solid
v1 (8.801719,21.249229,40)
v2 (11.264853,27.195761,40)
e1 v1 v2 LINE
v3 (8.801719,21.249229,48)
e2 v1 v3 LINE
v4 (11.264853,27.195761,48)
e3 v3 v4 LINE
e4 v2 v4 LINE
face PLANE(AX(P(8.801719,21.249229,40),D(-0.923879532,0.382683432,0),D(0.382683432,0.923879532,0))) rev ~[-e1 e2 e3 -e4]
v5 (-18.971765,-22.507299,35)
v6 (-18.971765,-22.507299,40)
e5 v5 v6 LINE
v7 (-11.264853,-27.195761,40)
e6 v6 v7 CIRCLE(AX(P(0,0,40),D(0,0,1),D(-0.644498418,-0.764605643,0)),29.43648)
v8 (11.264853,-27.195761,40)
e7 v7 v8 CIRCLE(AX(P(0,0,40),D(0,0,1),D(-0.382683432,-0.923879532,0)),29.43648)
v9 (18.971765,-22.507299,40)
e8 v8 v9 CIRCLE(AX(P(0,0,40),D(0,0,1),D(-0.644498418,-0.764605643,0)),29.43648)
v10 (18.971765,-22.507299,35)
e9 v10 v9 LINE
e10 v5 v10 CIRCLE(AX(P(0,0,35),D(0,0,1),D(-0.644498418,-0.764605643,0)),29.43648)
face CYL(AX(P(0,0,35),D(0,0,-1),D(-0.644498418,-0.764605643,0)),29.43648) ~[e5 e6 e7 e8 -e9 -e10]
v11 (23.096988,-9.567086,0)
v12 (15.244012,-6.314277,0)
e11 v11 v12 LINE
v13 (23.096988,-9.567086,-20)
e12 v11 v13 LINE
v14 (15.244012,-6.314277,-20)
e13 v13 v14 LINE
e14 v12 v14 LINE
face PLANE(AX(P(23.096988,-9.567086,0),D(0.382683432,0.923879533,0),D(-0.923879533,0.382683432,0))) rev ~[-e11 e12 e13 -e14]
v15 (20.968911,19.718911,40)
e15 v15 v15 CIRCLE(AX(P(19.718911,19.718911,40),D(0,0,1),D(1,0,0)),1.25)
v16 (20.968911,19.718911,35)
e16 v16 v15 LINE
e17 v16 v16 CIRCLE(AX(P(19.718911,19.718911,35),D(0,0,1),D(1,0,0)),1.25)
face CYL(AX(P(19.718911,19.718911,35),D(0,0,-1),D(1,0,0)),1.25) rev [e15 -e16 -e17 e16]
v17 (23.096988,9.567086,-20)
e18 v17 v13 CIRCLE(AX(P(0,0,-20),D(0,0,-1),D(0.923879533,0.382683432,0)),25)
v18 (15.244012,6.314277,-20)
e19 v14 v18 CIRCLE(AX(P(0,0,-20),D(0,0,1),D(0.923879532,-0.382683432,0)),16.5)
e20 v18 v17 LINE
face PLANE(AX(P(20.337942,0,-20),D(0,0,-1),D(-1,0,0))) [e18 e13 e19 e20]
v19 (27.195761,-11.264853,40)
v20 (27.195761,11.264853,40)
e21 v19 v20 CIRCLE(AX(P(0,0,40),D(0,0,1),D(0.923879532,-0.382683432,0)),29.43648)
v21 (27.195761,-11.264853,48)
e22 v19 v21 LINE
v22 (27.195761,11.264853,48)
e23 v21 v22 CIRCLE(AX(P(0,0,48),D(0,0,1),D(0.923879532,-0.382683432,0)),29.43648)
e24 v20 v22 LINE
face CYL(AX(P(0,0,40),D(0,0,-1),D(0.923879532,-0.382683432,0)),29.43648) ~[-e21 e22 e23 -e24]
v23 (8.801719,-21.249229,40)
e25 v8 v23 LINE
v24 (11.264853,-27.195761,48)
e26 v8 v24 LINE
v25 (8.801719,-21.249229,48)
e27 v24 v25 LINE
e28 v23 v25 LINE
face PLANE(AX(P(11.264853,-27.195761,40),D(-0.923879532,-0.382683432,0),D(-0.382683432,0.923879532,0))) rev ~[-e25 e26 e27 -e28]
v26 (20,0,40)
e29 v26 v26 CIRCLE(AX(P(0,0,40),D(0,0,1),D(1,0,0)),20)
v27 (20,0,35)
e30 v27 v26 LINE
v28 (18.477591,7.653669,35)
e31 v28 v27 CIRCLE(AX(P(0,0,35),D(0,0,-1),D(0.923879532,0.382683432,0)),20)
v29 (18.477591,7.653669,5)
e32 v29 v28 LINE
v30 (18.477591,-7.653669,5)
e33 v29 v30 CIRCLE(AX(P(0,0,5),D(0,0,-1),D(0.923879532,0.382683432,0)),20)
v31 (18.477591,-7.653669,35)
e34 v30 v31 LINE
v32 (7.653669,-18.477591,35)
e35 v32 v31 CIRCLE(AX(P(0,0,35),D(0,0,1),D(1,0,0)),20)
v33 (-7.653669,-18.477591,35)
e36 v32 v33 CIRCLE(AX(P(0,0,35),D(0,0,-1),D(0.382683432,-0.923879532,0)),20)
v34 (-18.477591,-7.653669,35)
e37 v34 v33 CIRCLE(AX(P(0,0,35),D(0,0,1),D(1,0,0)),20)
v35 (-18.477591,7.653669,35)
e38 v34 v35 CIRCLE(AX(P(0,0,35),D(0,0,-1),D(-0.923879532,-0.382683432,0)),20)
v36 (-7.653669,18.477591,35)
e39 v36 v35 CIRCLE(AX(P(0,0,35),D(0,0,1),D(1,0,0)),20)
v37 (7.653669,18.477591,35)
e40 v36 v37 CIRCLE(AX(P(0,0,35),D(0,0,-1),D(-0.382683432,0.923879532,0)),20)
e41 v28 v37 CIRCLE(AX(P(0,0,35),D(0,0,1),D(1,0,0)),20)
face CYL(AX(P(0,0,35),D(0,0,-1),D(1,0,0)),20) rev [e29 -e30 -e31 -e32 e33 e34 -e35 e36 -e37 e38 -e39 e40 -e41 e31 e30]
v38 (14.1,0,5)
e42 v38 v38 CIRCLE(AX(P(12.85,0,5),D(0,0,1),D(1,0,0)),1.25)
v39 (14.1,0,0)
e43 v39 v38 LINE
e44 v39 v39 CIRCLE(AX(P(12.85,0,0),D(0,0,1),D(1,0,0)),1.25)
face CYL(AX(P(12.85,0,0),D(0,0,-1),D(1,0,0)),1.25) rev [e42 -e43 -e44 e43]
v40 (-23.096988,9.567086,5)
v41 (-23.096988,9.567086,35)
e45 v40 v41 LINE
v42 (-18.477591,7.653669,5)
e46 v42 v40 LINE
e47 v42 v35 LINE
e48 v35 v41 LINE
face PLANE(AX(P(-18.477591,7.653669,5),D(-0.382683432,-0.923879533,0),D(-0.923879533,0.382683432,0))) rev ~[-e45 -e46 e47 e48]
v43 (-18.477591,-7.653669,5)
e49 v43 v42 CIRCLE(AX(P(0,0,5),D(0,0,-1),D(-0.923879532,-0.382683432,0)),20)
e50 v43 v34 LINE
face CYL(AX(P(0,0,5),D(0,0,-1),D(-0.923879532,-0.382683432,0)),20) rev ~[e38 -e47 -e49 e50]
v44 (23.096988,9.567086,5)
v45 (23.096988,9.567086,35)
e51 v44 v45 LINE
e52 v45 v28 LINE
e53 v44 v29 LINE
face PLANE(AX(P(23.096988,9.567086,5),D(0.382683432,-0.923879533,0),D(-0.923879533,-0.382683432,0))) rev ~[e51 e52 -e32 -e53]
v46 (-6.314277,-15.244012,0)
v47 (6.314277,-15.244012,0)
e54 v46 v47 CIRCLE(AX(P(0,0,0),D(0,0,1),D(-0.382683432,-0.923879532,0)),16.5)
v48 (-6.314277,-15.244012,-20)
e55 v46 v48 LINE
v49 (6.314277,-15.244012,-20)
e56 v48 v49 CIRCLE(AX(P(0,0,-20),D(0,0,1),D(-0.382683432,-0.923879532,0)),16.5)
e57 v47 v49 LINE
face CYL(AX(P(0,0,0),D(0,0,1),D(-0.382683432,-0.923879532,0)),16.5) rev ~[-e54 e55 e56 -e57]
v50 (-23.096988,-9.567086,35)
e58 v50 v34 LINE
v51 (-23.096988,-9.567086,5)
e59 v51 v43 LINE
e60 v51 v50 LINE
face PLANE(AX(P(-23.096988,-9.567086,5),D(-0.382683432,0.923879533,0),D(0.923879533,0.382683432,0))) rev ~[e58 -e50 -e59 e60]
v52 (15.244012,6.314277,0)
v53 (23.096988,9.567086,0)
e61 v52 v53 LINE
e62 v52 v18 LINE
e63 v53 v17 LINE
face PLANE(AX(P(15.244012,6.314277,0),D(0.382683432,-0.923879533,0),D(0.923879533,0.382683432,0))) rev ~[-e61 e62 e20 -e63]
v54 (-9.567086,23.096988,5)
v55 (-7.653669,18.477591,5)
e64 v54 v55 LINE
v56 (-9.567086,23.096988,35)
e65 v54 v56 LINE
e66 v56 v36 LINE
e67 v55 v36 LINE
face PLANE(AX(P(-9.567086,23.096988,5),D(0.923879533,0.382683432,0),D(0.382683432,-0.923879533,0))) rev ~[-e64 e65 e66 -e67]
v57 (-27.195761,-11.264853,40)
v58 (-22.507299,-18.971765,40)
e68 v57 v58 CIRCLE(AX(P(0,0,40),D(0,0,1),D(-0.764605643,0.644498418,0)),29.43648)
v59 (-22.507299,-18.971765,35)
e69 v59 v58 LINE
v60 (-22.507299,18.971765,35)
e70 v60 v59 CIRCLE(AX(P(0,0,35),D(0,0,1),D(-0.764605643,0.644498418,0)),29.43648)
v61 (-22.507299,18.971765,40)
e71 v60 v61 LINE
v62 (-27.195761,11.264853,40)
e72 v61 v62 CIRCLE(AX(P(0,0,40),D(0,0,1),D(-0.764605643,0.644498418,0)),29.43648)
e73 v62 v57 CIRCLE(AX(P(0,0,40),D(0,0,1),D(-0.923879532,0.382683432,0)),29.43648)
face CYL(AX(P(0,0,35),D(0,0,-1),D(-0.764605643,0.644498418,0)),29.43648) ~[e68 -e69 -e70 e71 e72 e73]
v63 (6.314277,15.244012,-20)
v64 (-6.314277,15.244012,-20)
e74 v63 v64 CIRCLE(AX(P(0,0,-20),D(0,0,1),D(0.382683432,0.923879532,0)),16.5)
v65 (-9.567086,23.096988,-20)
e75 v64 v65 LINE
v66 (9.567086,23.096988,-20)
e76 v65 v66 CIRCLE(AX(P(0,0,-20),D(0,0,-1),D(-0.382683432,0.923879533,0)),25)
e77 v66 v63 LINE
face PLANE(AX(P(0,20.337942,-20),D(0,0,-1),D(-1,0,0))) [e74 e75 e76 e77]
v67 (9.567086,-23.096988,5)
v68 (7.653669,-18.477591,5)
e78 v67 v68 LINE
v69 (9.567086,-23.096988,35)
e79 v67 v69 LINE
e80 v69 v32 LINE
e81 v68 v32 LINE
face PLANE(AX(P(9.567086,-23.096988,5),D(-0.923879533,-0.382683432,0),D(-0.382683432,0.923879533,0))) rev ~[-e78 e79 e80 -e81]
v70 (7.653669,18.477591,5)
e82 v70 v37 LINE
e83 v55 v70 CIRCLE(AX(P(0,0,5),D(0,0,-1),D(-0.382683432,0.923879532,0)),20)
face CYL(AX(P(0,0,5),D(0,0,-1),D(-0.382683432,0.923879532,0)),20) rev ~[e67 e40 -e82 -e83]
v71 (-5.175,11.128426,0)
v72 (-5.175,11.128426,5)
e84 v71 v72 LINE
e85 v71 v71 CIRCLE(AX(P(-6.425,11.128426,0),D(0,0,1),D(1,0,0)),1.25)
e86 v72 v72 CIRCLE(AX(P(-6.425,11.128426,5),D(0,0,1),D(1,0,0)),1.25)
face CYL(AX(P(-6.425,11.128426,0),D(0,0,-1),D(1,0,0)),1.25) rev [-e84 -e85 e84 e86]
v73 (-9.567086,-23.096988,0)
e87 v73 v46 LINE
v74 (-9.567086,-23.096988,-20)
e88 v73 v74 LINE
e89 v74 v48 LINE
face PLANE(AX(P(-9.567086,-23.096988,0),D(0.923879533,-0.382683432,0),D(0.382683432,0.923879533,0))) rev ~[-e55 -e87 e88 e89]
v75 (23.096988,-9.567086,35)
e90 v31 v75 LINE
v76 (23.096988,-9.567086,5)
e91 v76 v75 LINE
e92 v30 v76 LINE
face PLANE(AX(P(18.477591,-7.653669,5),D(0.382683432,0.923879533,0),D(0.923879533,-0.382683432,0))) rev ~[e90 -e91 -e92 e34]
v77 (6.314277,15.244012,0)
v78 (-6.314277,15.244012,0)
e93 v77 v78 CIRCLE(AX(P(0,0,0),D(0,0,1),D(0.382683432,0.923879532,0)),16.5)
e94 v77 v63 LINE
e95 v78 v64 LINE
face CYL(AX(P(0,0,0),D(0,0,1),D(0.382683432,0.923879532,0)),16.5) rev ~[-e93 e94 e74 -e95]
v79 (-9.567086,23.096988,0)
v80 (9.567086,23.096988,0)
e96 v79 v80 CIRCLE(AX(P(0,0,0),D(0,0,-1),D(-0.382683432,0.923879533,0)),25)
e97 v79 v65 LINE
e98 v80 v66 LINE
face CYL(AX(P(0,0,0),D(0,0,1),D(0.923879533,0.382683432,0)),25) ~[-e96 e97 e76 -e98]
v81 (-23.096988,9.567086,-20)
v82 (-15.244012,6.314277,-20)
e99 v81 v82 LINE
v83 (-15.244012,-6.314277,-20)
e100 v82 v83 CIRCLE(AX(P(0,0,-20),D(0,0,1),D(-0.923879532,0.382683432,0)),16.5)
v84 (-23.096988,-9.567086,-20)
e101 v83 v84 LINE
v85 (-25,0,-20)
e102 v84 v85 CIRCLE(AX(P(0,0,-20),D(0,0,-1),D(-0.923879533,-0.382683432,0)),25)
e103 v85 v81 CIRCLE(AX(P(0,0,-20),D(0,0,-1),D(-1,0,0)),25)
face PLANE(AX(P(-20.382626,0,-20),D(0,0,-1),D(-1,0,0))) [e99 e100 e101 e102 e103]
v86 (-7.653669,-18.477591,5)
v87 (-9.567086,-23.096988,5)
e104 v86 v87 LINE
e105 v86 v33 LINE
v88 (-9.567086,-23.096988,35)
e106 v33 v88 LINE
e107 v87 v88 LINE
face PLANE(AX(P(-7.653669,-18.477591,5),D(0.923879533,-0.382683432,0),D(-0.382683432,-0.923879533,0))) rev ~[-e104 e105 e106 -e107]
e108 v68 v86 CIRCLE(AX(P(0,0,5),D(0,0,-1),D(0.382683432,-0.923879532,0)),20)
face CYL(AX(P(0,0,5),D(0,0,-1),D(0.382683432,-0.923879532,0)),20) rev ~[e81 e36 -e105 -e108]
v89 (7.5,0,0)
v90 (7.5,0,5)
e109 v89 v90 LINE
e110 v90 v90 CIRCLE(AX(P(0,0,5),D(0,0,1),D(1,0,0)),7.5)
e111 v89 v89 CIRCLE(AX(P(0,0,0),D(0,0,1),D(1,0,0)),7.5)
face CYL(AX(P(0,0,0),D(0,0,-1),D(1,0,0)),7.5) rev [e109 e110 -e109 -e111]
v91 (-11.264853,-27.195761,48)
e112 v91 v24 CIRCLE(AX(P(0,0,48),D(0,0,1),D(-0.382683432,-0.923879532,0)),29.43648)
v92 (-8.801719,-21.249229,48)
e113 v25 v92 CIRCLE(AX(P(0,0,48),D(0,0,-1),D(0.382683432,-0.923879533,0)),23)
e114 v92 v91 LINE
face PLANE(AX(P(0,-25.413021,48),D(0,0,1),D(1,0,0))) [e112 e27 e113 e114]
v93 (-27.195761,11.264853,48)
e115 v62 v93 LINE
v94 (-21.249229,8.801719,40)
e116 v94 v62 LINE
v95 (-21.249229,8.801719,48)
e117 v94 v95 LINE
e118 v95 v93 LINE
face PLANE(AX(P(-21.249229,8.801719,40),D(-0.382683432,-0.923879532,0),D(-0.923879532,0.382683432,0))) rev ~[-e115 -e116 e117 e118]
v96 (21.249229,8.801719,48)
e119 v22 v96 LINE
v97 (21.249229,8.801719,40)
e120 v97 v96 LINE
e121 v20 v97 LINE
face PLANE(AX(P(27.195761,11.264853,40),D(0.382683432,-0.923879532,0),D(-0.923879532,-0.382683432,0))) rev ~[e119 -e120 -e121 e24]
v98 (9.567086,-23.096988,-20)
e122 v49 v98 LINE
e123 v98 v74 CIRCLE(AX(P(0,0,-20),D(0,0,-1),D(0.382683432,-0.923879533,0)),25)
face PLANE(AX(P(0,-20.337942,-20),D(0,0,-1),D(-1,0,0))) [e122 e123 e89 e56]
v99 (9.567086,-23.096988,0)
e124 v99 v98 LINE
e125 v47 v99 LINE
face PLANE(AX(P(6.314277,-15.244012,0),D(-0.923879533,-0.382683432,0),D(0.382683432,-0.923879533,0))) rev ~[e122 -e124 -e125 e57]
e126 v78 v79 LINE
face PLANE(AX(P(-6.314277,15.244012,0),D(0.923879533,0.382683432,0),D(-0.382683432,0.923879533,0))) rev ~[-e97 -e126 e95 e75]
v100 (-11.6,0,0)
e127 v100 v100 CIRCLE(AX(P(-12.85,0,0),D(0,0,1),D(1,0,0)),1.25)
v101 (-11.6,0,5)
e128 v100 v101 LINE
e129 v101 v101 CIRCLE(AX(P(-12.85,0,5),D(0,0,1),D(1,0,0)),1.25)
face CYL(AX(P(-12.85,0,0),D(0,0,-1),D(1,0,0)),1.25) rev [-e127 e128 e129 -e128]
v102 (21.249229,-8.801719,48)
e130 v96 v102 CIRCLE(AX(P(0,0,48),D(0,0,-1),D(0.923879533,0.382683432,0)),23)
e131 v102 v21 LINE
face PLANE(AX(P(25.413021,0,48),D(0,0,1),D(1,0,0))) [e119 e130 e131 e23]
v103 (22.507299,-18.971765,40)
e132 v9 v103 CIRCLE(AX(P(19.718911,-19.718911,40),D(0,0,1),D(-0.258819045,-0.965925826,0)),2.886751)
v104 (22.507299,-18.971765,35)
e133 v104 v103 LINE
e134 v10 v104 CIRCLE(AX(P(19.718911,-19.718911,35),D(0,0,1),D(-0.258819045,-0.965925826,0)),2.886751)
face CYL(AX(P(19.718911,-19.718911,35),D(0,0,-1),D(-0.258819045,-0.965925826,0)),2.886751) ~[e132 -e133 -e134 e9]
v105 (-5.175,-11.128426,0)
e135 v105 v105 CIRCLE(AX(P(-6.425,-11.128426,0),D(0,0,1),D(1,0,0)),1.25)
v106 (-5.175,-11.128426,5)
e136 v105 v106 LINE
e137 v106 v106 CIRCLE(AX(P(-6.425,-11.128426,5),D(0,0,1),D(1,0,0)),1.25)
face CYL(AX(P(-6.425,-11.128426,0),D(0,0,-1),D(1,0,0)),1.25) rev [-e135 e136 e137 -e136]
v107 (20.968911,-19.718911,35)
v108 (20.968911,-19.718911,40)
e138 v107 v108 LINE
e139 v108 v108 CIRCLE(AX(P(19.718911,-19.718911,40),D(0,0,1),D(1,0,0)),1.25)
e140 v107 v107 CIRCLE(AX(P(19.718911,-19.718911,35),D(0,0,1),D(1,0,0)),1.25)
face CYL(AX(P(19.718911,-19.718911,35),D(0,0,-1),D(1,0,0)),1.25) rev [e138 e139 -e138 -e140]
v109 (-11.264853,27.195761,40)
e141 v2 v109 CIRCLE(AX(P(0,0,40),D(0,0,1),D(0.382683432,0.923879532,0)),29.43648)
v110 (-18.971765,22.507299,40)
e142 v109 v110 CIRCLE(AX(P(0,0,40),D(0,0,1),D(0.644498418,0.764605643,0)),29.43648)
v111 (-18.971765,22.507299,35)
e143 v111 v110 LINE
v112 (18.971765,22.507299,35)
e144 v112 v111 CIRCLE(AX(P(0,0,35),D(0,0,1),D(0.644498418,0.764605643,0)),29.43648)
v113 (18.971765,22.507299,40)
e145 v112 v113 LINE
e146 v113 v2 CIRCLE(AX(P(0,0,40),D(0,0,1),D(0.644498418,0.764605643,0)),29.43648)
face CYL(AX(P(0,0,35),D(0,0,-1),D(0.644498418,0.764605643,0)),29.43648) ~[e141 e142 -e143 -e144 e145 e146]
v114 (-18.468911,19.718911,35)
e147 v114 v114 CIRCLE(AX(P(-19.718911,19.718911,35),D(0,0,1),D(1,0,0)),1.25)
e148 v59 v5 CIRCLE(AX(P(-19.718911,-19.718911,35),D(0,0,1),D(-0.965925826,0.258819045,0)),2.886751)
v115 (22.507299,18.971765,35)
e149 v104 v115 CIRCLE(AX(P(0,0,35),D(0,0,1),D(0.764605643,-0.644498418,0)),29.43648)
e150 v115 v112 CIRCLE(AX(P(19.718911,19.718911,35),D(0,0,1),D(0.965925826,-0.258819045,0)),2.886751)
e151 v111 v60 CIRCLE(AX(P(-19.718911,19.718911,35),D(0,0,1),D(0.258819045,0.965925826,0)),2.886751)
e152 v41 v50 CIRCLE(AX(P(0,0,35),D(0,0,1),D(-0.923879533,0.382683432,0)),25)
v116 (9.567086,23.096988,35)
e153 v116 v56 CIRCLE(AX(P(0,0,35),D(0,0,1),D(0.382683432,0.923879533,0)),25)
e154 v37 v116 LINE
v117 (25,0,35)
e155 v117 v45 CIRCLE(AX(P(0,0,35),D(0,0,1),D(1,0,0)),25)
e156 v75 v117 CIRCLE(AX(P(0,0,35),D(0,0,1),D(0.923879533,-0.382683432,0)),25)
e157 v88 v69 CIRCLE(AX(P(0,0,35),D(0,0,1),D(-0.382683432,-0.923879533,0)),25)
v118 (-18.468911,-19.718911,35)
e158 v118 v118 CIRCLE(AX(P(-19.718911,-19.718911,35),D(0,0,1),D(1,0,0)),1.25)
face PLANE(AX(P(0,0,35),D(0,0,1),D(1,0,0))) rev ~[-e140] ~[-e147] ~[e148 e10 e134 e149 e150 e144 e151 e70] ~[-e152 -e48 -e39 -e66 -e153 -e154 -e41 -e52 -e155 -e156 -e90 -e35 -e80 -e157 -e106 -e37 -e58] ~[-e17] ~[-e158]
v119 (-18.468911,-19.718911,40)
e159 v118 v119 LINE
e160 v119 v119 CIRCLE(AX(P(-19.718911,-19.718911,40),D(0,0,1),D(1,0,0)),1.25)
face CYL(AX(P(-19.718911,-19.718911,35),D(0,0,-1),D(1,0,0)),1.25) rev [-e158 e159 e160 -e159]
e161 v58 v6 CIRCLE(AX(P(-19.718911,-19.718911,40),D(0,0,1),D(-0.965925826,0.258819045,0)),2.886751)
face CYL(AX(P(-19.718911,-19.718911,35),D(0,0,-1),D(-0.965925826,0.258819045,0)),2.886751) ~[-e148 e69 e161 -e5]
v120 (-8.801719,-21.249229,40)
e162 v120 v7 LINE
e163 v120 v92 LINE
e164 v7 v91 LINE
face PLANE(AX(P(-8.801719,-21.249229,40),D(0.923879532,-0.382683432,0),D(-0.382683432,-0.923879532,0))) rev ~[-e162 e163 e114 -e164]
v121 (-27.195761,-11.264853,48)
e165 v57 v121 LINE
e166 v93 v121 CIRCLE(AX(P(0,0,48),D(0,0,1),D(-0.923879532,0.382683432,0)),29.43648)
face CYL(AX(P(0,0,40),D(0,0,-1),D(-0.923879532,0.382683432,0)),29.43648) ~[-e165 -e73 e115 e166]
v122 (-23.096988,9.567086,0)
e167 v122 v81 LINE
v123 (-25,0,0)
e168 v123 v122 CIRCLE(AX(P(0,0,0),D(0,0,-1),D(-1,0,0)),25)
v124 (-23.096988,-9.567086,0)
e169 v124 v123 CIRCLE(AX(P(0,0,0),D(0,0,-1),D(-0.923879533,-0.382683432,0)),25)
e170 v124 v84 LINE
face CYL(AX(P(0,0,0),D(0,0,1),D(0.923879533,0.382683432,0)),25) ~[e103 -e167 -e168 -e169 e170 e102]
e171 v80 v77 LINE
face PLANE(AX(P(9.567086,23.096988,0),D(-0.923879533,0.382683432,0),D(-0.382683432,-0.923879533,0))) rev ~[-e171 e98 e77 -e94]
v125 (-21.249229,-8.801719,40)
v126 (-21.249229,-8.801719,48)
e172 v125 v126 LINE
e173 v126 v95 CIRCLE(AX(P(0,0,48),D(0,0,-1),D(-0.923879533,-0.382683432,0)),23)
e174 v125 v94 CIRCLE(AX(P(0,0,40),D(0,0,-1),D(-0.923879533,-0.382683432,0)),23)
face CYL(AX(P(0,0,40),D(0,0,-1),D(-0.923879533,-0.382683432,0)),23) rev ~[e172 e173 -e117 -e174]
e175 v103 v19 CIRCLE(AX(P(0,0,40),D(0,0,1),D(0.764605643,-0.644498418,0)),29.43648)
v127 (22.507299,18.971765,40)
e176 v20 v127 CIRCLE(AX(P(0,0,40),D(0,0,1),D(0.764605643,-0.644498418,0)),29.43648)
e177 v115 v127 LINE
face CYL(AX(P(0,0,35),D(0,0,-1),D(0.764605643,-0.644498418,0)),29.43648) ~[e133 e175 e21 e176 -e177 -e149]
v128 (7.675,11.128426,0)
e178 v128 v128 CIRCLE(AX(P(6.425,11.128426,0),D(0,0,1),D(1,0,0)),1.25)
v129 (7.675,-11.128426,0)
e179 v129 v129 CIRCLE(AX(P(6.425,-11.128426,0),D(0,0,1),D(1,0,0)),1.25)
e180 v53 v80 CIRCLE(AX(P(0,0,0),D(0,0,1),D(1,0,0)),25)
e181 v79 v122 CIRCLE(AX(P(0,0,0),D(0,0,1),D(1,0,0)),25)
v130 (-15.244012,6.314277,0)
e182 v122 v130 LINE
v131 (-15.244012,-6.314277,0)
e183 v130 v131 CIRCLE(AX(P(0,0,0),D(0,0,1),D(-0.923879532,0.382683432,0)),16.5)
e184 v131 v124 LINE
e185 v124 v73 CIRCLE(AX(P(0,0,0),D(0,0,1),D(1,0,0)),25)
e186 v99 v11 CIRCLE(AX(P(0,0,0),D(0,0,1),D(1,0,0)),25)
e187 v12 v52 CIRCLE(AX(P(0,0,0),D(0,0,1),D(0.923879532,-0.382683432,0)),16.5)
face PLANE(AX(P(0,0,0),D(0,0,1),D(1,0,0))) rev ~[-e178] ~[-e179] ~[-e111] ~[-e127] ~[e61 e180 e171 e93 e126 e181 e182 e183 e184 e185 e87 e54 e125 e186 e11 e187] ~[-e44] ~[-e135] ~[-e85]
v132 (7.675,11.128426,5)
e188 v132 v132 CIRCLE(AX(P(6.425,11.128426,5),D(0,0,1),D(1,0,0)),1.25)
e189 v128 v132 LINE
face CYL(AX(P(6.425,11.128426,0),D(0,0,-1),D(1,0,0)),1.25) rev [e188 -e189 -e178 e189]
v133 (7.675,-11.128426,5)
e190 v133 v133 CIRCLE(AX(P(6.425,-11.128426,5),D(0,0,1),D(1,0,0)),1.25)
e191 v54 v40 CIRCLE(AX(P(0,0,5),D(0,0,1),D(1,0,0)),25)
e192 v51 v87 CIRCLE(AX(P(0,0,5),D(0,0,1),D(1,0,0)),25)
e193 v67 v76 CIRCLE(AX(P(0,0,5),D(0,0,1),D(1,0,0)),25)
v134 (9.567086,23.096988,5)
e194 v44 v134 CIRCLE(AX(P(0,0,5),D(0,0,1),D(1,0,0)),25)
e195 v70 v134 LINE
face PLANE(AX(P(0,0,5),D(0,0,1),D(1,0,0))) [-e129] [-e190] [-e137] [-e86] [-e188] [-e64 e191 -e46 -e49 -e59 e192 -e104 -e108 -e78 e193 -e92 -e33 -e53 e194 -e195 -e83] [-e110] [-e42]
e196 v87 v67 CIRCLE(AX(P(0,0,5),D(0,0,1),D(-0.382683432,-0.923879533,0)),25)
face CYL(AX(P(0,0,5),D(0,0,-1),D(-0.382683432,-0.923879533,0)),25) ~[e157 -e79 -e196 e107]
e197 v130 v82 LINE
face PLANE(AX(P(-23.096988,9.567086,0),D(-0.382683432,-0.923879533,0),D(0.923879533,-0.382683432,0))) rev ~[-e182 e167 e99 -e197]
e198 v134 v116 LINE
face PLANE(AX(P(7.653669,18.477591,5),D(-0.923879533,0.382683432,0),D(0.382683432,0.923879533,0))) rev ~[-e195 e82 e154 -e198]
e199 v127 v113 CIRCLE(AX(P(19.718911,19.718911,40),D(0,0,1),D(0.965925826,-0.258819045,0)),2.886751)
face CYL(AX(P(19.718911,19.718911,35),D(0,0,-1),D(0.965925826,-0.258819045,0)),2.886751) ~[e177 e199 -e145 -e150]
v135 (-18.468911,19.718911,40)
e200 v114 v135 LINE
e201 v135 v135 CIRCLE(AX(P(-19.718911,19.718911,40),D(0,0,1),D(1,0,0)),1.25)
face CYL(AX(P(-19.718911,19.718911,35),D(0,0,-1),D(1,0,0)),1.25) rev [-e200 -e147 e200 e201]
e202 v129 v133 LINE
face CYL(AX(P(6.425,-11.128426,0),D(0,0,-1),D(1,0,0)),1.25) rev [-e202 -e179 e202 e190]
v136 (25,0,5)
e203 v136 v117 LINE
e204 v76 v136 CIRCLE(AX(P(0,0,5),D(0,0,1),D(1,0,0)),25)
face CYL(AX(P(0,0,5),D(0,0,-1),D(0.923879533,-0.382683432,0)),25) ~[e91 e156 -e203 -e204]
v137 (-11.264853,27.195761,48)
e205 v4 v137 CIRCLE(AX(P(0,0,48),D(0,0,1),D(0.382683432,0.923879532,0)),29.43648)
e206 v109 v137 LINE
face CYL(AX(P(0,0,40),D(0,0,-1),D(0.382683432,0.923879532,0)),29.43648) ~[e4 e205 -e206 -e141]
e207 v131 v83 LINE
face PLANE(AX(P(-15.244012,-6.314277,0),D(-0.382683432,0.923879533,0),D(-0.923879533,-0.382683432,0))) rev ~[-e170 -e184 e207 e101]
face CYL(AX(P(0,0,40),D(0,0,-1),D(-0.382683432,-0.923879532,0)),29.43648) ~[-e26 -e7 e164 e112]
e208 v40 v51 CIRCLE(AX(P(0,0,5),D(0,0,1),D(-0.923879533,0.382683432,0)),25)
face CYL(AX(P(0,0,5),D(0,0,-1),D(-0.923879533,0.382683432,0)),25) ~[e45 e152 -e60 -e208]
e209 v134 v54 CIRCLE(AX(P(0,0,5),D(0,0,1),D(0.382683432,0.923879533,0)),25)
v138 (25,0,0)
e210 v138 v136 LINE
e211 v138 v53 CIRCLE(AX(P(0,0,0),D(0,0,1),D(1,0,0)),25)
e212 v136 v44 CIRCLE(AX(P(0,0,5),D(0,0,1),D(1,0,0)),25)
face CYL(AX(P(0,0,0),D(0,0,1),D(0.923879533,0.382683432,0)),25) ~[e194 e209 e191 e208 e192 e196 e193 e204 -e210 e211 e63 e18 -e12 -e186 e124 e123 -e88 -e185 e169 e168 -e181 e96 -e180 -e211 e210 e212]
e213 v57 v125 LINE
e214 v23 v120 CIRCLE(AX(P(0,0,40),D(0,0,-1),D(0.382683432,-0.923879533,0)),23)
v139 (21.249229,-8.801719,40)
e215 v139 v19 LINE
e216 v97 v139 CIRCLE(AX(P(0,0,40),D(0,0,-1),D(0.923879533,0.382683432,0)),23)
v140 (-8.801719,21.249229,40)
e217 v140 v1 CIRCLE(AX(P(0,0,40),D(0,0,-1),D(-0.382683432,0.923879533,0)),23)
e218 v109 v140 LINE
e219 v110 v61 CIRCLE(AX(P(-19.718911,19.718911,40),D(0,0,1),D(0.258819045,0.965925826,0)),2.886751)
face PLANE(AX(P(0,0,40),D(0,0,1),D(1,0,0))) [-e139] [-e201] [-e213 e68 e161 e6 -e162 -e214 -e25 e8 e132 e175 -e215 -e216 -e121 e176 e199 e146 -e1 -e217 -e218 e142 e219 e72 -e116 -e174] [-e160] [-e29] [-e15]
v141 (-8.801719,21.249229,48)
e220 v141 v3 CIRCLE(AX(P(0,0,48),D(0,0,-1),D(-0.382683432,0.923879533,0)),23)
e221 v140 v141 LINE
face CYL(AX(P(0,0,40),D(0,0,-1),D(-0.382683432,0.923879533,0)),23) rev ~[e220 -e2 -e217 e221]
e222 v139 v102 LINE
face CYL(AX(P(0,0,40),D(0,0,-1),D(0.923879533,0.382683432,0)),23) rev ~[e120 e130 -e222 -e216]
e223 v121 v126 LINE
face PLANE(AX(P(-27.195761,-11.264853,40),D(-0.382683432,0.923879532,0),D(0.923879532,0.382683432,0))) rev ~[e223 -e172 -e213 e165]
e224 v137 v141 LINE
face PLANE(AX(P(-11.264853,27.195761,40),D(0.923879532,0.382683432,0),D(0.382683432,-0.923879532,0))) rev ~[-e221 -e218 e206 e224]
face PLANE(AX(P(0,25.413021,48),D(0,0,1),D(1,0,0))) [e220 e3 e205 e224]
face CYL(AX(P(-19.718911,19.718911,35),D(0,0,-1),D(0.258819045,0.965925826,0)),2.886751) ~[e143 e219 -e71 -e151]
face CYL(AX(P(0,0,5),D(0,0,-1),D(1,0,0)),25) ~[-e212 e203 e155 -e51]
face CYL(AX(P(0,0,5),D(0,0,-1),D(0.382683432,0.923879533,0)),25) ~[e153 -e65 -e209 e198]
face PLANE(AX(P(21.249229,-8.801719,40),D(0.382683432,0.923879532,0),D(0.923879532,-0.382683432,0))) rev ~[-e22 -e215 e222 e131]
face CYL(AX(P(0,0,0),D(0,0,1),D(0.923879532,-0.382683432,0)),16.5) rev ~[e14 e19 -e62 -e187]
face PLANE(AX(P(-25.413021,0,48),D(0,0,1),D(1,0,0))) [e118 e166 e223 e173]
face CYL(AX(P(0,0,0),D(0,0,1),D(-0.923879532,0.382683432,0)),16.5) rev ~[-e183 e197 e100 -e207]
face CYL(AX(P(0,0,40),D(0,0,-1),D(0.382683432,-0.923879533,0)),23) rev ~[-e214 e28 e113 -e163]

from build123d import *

# Parameters (mm, degrees)
SKETCH1_R           = 25
SKETCH1_R_2         = 1.25
SKETCH1_R_3         = 7.5
BOSS_EXTRUDE1_DEPTH = 5
BOSS_EXTRUDE2_DEPTH = 20
BOSS_EXTRUDE3_DEPTH = 30
SKETCH4_R           = 1.25
SKETCH4_R_2         = 20
BOSS_EXTRUDE4_DEPTH = 5
BOSS_EXTRUDE5_DEPTH = 8


with BuildPart() as part:
    # Sketch1 → Boss-Extrude1 (new body)
    with BuildSketch(Plane.XY):
        Circle(SKETCH1_R)
        with Locations((-12.85, 0)):
            Circle(SKETCH1_R_2, mode=Mode.SUBTRACT)
        with Locations((-6.425, 11.128426439)):
            Circle(SKETCH1_R_2, mode=Mode.SUBTRACT)
        with Locations((6.425, 11.128426439)):
            Circle(SKETCH1_R_2, mode=Mode.SUBTRACT)
        with Locations((12.85, 0)):
            Circle(SKETCH1_R_2, mode=Mode.SUBTRACT)
        with Locations((6.425, -11.128426439)):
            Circle(SKETCH1_R_2, mode=Mode.SUBTRACT)
        with Locations((-6.425, -11.128426439)):
            Circle(SKETCH1_R_2, mode=Mode.SUBTRACT)
        Circle(SKETCH1_R_3, mode=Mode.SUBTRACT)
    extrude(amount=BOSS_EXTRUDE1_DEPTH)

    # Sketch2 → Boss-Extrude2 (add)
    with BuildSketch(Plane(origin=(0, 0, 0), x_dir=(-1, 0, 0), z_dir=(0, 0, -1))):
        with BuildLine():
            Line((-15.244012286, 6.314276634), (-23.096988313, 9.567085809))
            ThreePointArc((-23.096988313, 9.567085809), (-25, 0), (-23.096988313, -9.567085809))
            Line((-23.096988313, -9.567085809), (-15.244012286, -6.314276634))
            ThreePointArc((-15.244012286, -6.314276634), (-16.5, 0), (-15.244012286, 6.314276634))
        make_face()
        with BuildLine():
            Line((6.314276634, 15.244012286), (9.567085809, 23.096988313))
            ThreePointArc((9.567085809, 23.096988313), (0, 25), (-9.567085809, 23.096988313))
            Line((-9.567085809, 23.096988313), (-6.314276634, 15.244012286))
            ThreePointArc((-6.314276634, 15.244012286), (0, 16.5), (6.314276634, 15.244012286))
        make_face()
        with BuildLine():
            ThreePointArc((25, 0), (24.51963201, 4.87725805), (23.096988313, 9.567085809))
            Line((23.096988313, 9.567085809), (15.244012286, 6.314276634))
            ThreePointArc((15.244012286, 6.314276634), (16.5, 0), (15.244012286, -6.314276634))
            Line((15.244012286, -6.314276634), (23.096988313, -9.567085809))
            ThreePointArc((23.096988313, -9.567085809), (24.51963201, -4.87725805), (25, 0))
        make_face()
        with BuildLine():
            ThreePointArc((-9.567085809, -23.096988313), (0, -25), (9.567085809, -23.096988313))
            Line((9.567085809, -23.096988313), (6.314276634, -15.244012286))
            ThreePointArc((6.314276634, -15.244012286), (0, -16.5), (-6.314276634, -15.244012286))
            Line((-6.314276634, -15.244012286), (-9.567085809, -23.096988313))
        make_face()
    extrude(amount=BOSS_EXTRUDE2_DEPTH)

    # Sketch3 → Boss-Extrude3 (add)
    with BuildSketch(Plane.XY.offset(5)):
        with BuildLine():
            Line((7.653668647, 18.47759065), (9.567085809, 23.096988313))
            ThreePointArc((9.567085809, 23.096988313), (0, 25), (-9.567085809, 23.096988313))
            Line((-9.567085809, 23.096988313), (-7.653668647, 18.47759065))
            ThreePointArc((-7.653668647, 18.47759065), (0, 20), (7.653668647, 18.47759065))
        make_face()
        with BuildLine():
            ThreePointArc((25, 0), (24.51963201, 4.87725805), (23.096988313, 9.567085809))
            Line((23.096988313, 9.567085809), (18.47759065, 7.653668647))
            ThreePointArc((18.47759065, 7.653668647), (20, 0), (18.47759065, -7.653668647))
            Line((18.47759065, -7.653668647), (23.096988313, -9.567085809))
            ThreePointArc((23.096988313, -9.567085809), (24.51963201, -4.87725805), (25, 0))
        make_face()
        with BuildLine():
            Line((-7.653668647, -18.47759065), (-9.567085809, -23.096988313))
            ThreePointArc((-9.567085809, -23.096988313), (0, -25), (9.567085809, -23.096988313))
            Line((9.567085809, -23.096988313), (7.653668647, -18.47759065))
            ThreePointArc((7.653668647, -18.47759065), (0, -20), (-7.653668647, -18.47759065))
        make_face()
        with BuildLine():
            Line((-18.47759065, 7.653668647), (-23.096988313, 9.567085809))
            ThreePointArc((-23.096988313, 9.567085809), (-25, 0), (-23.096988313, -9.567085809))
            Line((-23.096988313, -9.567085809), (-18.47759065, -7.653668647))
            ThreePointArc((-18.47759065, -7.653668647), (-20, 0), (-18.47759065, 7.653668647))
        make_face()
    extrude(amount=BOSS_EXTRUDE3_DEPTH)

    # Sketch4 → Boss-Extrude4 (add)
    with BuildSketch(Plane.XY.offset(35)):
        with BuildLine():
            ThreePointArc((22.507298661, 18.971764755), (21.760152434, 21.760152434), (18.971764755, 22.507298661))
            ThreePointArc((18.971764755, 22.507298661), (0, 29.436479935), (-18.971764755, 22.507298661))
            ThreePointArc((-18.971764755, 22.507298661), (-21.760152434, 21.760152434), (-22.507298661, 18.971764755))
            ThreePointArc((-22.507298661, 18.971764755), (-29.436479935, 0), (-22.507298661, -18.971764755))
            ThreePointArc((-22.507298661, -18.971764755), (-21.760152434, -21.760152434), (-18.971764755, -22.507298661))
            ThreePointArc((-18.971764755, -22.507298661), (0, -29.436479935), (18.971764755, -22.507298661))
            ThreePointArc((18.971764755, -22.507298661), (21.760152434, -21.760152434), (22.507298661, -18.971764755))
            ThreePointArc((22.507298661, -18.971764755), (29.436479935, 0), (22.507298661, 18.971764755))
        make_face()
        with Locations((-19.718910982, -19.718910982)):
            Circle(SKETCH4_R, mode=Mode.SUBTRACT)
        with Locations((19.718910982, -19.718910982)):
            Circle(SKETCH4_R, mode=Mode.SUBTRACT)
        with Locations((-19.718910982, 19.718910982)):
            Circle(SKETCH4_R, mode=Mode.SUBTRACT)
        Circle(SKETCH4_R_2, mode=Mode.SUBTRACT)
        with Locations((19.718910982, 19.718910982)):
            Circle(SKETCH4_R, mode=Mode.SUBTRACT)
    extrude(amount=BOSS_EXTRUDE4_DEPTH)

    # Sketch5 → Boss-Extrude5 (add)
    with BuildSketch(Plane.XY.offset(40)):
        with BuildLine():
            ThreePointArc((11.264853178, 27.195761321), (0, 29.436479935), (-11.264853178, 27.195761321))
            Line((-11.264853178, 27.195761321), (-8.801718944, 21.249229248))
            ThreePointArc((-8.801718944, 21.249229248), (0, 23), (8.801718944, 21.249229248))
            Line((8.801718944, 21.249229248), (11.264853178, 27.195761321))
        make_face()
        with BuildLine():
            Line((21.249229248, -8.801718944), (27.195761321, -11.264853178))
            ThreePointArc((27.195761321, -11.264853178), (29.436479935, 0), (27.195761321, 11.264853178))
            Line((27.195761321, 11.264853178), (21.249229248, 8.801718944))
            ThreePointArc((21.249229248, 8.801718944), (23, 0), (21.249229248, -8.801718944))
        make_face()
        with BuildLine():
            Line((-8.801718944, -21.249229248), (-11.264853178, -27.195761321))
            ThreePointArc((-11.264853178, -27.195761321), (0, -29.436479935), (11.264853178, -27.195761321))
            Line((11.264853178, -27.195761321), (8.801718944, -21.249229248))
            ThreePointArc((8.801718944, -21.249229248), (0, -23), (-8.801718944, -21.249229248))
        make_face()
        with BuildLine():
            Line((-21.249229248, 8.801718944), (-27.195761321, 11.264853178))
            ThreePointArc((-27.195761321, 11.264853178), (-29.436479935, 0), (-27.195761321, -11.264853178))
            Line((-27.195761321, -11.264853178), (-21.249229248, -8.801718944))
            ThreePointArc((-21.249229248, -8.801718944), (-23, 0), (-21.249229248, 8.801718944))
        make_face()
    extrude(amount=BOSS_EXTRUDE5_DEPTH)


solid = part.part
